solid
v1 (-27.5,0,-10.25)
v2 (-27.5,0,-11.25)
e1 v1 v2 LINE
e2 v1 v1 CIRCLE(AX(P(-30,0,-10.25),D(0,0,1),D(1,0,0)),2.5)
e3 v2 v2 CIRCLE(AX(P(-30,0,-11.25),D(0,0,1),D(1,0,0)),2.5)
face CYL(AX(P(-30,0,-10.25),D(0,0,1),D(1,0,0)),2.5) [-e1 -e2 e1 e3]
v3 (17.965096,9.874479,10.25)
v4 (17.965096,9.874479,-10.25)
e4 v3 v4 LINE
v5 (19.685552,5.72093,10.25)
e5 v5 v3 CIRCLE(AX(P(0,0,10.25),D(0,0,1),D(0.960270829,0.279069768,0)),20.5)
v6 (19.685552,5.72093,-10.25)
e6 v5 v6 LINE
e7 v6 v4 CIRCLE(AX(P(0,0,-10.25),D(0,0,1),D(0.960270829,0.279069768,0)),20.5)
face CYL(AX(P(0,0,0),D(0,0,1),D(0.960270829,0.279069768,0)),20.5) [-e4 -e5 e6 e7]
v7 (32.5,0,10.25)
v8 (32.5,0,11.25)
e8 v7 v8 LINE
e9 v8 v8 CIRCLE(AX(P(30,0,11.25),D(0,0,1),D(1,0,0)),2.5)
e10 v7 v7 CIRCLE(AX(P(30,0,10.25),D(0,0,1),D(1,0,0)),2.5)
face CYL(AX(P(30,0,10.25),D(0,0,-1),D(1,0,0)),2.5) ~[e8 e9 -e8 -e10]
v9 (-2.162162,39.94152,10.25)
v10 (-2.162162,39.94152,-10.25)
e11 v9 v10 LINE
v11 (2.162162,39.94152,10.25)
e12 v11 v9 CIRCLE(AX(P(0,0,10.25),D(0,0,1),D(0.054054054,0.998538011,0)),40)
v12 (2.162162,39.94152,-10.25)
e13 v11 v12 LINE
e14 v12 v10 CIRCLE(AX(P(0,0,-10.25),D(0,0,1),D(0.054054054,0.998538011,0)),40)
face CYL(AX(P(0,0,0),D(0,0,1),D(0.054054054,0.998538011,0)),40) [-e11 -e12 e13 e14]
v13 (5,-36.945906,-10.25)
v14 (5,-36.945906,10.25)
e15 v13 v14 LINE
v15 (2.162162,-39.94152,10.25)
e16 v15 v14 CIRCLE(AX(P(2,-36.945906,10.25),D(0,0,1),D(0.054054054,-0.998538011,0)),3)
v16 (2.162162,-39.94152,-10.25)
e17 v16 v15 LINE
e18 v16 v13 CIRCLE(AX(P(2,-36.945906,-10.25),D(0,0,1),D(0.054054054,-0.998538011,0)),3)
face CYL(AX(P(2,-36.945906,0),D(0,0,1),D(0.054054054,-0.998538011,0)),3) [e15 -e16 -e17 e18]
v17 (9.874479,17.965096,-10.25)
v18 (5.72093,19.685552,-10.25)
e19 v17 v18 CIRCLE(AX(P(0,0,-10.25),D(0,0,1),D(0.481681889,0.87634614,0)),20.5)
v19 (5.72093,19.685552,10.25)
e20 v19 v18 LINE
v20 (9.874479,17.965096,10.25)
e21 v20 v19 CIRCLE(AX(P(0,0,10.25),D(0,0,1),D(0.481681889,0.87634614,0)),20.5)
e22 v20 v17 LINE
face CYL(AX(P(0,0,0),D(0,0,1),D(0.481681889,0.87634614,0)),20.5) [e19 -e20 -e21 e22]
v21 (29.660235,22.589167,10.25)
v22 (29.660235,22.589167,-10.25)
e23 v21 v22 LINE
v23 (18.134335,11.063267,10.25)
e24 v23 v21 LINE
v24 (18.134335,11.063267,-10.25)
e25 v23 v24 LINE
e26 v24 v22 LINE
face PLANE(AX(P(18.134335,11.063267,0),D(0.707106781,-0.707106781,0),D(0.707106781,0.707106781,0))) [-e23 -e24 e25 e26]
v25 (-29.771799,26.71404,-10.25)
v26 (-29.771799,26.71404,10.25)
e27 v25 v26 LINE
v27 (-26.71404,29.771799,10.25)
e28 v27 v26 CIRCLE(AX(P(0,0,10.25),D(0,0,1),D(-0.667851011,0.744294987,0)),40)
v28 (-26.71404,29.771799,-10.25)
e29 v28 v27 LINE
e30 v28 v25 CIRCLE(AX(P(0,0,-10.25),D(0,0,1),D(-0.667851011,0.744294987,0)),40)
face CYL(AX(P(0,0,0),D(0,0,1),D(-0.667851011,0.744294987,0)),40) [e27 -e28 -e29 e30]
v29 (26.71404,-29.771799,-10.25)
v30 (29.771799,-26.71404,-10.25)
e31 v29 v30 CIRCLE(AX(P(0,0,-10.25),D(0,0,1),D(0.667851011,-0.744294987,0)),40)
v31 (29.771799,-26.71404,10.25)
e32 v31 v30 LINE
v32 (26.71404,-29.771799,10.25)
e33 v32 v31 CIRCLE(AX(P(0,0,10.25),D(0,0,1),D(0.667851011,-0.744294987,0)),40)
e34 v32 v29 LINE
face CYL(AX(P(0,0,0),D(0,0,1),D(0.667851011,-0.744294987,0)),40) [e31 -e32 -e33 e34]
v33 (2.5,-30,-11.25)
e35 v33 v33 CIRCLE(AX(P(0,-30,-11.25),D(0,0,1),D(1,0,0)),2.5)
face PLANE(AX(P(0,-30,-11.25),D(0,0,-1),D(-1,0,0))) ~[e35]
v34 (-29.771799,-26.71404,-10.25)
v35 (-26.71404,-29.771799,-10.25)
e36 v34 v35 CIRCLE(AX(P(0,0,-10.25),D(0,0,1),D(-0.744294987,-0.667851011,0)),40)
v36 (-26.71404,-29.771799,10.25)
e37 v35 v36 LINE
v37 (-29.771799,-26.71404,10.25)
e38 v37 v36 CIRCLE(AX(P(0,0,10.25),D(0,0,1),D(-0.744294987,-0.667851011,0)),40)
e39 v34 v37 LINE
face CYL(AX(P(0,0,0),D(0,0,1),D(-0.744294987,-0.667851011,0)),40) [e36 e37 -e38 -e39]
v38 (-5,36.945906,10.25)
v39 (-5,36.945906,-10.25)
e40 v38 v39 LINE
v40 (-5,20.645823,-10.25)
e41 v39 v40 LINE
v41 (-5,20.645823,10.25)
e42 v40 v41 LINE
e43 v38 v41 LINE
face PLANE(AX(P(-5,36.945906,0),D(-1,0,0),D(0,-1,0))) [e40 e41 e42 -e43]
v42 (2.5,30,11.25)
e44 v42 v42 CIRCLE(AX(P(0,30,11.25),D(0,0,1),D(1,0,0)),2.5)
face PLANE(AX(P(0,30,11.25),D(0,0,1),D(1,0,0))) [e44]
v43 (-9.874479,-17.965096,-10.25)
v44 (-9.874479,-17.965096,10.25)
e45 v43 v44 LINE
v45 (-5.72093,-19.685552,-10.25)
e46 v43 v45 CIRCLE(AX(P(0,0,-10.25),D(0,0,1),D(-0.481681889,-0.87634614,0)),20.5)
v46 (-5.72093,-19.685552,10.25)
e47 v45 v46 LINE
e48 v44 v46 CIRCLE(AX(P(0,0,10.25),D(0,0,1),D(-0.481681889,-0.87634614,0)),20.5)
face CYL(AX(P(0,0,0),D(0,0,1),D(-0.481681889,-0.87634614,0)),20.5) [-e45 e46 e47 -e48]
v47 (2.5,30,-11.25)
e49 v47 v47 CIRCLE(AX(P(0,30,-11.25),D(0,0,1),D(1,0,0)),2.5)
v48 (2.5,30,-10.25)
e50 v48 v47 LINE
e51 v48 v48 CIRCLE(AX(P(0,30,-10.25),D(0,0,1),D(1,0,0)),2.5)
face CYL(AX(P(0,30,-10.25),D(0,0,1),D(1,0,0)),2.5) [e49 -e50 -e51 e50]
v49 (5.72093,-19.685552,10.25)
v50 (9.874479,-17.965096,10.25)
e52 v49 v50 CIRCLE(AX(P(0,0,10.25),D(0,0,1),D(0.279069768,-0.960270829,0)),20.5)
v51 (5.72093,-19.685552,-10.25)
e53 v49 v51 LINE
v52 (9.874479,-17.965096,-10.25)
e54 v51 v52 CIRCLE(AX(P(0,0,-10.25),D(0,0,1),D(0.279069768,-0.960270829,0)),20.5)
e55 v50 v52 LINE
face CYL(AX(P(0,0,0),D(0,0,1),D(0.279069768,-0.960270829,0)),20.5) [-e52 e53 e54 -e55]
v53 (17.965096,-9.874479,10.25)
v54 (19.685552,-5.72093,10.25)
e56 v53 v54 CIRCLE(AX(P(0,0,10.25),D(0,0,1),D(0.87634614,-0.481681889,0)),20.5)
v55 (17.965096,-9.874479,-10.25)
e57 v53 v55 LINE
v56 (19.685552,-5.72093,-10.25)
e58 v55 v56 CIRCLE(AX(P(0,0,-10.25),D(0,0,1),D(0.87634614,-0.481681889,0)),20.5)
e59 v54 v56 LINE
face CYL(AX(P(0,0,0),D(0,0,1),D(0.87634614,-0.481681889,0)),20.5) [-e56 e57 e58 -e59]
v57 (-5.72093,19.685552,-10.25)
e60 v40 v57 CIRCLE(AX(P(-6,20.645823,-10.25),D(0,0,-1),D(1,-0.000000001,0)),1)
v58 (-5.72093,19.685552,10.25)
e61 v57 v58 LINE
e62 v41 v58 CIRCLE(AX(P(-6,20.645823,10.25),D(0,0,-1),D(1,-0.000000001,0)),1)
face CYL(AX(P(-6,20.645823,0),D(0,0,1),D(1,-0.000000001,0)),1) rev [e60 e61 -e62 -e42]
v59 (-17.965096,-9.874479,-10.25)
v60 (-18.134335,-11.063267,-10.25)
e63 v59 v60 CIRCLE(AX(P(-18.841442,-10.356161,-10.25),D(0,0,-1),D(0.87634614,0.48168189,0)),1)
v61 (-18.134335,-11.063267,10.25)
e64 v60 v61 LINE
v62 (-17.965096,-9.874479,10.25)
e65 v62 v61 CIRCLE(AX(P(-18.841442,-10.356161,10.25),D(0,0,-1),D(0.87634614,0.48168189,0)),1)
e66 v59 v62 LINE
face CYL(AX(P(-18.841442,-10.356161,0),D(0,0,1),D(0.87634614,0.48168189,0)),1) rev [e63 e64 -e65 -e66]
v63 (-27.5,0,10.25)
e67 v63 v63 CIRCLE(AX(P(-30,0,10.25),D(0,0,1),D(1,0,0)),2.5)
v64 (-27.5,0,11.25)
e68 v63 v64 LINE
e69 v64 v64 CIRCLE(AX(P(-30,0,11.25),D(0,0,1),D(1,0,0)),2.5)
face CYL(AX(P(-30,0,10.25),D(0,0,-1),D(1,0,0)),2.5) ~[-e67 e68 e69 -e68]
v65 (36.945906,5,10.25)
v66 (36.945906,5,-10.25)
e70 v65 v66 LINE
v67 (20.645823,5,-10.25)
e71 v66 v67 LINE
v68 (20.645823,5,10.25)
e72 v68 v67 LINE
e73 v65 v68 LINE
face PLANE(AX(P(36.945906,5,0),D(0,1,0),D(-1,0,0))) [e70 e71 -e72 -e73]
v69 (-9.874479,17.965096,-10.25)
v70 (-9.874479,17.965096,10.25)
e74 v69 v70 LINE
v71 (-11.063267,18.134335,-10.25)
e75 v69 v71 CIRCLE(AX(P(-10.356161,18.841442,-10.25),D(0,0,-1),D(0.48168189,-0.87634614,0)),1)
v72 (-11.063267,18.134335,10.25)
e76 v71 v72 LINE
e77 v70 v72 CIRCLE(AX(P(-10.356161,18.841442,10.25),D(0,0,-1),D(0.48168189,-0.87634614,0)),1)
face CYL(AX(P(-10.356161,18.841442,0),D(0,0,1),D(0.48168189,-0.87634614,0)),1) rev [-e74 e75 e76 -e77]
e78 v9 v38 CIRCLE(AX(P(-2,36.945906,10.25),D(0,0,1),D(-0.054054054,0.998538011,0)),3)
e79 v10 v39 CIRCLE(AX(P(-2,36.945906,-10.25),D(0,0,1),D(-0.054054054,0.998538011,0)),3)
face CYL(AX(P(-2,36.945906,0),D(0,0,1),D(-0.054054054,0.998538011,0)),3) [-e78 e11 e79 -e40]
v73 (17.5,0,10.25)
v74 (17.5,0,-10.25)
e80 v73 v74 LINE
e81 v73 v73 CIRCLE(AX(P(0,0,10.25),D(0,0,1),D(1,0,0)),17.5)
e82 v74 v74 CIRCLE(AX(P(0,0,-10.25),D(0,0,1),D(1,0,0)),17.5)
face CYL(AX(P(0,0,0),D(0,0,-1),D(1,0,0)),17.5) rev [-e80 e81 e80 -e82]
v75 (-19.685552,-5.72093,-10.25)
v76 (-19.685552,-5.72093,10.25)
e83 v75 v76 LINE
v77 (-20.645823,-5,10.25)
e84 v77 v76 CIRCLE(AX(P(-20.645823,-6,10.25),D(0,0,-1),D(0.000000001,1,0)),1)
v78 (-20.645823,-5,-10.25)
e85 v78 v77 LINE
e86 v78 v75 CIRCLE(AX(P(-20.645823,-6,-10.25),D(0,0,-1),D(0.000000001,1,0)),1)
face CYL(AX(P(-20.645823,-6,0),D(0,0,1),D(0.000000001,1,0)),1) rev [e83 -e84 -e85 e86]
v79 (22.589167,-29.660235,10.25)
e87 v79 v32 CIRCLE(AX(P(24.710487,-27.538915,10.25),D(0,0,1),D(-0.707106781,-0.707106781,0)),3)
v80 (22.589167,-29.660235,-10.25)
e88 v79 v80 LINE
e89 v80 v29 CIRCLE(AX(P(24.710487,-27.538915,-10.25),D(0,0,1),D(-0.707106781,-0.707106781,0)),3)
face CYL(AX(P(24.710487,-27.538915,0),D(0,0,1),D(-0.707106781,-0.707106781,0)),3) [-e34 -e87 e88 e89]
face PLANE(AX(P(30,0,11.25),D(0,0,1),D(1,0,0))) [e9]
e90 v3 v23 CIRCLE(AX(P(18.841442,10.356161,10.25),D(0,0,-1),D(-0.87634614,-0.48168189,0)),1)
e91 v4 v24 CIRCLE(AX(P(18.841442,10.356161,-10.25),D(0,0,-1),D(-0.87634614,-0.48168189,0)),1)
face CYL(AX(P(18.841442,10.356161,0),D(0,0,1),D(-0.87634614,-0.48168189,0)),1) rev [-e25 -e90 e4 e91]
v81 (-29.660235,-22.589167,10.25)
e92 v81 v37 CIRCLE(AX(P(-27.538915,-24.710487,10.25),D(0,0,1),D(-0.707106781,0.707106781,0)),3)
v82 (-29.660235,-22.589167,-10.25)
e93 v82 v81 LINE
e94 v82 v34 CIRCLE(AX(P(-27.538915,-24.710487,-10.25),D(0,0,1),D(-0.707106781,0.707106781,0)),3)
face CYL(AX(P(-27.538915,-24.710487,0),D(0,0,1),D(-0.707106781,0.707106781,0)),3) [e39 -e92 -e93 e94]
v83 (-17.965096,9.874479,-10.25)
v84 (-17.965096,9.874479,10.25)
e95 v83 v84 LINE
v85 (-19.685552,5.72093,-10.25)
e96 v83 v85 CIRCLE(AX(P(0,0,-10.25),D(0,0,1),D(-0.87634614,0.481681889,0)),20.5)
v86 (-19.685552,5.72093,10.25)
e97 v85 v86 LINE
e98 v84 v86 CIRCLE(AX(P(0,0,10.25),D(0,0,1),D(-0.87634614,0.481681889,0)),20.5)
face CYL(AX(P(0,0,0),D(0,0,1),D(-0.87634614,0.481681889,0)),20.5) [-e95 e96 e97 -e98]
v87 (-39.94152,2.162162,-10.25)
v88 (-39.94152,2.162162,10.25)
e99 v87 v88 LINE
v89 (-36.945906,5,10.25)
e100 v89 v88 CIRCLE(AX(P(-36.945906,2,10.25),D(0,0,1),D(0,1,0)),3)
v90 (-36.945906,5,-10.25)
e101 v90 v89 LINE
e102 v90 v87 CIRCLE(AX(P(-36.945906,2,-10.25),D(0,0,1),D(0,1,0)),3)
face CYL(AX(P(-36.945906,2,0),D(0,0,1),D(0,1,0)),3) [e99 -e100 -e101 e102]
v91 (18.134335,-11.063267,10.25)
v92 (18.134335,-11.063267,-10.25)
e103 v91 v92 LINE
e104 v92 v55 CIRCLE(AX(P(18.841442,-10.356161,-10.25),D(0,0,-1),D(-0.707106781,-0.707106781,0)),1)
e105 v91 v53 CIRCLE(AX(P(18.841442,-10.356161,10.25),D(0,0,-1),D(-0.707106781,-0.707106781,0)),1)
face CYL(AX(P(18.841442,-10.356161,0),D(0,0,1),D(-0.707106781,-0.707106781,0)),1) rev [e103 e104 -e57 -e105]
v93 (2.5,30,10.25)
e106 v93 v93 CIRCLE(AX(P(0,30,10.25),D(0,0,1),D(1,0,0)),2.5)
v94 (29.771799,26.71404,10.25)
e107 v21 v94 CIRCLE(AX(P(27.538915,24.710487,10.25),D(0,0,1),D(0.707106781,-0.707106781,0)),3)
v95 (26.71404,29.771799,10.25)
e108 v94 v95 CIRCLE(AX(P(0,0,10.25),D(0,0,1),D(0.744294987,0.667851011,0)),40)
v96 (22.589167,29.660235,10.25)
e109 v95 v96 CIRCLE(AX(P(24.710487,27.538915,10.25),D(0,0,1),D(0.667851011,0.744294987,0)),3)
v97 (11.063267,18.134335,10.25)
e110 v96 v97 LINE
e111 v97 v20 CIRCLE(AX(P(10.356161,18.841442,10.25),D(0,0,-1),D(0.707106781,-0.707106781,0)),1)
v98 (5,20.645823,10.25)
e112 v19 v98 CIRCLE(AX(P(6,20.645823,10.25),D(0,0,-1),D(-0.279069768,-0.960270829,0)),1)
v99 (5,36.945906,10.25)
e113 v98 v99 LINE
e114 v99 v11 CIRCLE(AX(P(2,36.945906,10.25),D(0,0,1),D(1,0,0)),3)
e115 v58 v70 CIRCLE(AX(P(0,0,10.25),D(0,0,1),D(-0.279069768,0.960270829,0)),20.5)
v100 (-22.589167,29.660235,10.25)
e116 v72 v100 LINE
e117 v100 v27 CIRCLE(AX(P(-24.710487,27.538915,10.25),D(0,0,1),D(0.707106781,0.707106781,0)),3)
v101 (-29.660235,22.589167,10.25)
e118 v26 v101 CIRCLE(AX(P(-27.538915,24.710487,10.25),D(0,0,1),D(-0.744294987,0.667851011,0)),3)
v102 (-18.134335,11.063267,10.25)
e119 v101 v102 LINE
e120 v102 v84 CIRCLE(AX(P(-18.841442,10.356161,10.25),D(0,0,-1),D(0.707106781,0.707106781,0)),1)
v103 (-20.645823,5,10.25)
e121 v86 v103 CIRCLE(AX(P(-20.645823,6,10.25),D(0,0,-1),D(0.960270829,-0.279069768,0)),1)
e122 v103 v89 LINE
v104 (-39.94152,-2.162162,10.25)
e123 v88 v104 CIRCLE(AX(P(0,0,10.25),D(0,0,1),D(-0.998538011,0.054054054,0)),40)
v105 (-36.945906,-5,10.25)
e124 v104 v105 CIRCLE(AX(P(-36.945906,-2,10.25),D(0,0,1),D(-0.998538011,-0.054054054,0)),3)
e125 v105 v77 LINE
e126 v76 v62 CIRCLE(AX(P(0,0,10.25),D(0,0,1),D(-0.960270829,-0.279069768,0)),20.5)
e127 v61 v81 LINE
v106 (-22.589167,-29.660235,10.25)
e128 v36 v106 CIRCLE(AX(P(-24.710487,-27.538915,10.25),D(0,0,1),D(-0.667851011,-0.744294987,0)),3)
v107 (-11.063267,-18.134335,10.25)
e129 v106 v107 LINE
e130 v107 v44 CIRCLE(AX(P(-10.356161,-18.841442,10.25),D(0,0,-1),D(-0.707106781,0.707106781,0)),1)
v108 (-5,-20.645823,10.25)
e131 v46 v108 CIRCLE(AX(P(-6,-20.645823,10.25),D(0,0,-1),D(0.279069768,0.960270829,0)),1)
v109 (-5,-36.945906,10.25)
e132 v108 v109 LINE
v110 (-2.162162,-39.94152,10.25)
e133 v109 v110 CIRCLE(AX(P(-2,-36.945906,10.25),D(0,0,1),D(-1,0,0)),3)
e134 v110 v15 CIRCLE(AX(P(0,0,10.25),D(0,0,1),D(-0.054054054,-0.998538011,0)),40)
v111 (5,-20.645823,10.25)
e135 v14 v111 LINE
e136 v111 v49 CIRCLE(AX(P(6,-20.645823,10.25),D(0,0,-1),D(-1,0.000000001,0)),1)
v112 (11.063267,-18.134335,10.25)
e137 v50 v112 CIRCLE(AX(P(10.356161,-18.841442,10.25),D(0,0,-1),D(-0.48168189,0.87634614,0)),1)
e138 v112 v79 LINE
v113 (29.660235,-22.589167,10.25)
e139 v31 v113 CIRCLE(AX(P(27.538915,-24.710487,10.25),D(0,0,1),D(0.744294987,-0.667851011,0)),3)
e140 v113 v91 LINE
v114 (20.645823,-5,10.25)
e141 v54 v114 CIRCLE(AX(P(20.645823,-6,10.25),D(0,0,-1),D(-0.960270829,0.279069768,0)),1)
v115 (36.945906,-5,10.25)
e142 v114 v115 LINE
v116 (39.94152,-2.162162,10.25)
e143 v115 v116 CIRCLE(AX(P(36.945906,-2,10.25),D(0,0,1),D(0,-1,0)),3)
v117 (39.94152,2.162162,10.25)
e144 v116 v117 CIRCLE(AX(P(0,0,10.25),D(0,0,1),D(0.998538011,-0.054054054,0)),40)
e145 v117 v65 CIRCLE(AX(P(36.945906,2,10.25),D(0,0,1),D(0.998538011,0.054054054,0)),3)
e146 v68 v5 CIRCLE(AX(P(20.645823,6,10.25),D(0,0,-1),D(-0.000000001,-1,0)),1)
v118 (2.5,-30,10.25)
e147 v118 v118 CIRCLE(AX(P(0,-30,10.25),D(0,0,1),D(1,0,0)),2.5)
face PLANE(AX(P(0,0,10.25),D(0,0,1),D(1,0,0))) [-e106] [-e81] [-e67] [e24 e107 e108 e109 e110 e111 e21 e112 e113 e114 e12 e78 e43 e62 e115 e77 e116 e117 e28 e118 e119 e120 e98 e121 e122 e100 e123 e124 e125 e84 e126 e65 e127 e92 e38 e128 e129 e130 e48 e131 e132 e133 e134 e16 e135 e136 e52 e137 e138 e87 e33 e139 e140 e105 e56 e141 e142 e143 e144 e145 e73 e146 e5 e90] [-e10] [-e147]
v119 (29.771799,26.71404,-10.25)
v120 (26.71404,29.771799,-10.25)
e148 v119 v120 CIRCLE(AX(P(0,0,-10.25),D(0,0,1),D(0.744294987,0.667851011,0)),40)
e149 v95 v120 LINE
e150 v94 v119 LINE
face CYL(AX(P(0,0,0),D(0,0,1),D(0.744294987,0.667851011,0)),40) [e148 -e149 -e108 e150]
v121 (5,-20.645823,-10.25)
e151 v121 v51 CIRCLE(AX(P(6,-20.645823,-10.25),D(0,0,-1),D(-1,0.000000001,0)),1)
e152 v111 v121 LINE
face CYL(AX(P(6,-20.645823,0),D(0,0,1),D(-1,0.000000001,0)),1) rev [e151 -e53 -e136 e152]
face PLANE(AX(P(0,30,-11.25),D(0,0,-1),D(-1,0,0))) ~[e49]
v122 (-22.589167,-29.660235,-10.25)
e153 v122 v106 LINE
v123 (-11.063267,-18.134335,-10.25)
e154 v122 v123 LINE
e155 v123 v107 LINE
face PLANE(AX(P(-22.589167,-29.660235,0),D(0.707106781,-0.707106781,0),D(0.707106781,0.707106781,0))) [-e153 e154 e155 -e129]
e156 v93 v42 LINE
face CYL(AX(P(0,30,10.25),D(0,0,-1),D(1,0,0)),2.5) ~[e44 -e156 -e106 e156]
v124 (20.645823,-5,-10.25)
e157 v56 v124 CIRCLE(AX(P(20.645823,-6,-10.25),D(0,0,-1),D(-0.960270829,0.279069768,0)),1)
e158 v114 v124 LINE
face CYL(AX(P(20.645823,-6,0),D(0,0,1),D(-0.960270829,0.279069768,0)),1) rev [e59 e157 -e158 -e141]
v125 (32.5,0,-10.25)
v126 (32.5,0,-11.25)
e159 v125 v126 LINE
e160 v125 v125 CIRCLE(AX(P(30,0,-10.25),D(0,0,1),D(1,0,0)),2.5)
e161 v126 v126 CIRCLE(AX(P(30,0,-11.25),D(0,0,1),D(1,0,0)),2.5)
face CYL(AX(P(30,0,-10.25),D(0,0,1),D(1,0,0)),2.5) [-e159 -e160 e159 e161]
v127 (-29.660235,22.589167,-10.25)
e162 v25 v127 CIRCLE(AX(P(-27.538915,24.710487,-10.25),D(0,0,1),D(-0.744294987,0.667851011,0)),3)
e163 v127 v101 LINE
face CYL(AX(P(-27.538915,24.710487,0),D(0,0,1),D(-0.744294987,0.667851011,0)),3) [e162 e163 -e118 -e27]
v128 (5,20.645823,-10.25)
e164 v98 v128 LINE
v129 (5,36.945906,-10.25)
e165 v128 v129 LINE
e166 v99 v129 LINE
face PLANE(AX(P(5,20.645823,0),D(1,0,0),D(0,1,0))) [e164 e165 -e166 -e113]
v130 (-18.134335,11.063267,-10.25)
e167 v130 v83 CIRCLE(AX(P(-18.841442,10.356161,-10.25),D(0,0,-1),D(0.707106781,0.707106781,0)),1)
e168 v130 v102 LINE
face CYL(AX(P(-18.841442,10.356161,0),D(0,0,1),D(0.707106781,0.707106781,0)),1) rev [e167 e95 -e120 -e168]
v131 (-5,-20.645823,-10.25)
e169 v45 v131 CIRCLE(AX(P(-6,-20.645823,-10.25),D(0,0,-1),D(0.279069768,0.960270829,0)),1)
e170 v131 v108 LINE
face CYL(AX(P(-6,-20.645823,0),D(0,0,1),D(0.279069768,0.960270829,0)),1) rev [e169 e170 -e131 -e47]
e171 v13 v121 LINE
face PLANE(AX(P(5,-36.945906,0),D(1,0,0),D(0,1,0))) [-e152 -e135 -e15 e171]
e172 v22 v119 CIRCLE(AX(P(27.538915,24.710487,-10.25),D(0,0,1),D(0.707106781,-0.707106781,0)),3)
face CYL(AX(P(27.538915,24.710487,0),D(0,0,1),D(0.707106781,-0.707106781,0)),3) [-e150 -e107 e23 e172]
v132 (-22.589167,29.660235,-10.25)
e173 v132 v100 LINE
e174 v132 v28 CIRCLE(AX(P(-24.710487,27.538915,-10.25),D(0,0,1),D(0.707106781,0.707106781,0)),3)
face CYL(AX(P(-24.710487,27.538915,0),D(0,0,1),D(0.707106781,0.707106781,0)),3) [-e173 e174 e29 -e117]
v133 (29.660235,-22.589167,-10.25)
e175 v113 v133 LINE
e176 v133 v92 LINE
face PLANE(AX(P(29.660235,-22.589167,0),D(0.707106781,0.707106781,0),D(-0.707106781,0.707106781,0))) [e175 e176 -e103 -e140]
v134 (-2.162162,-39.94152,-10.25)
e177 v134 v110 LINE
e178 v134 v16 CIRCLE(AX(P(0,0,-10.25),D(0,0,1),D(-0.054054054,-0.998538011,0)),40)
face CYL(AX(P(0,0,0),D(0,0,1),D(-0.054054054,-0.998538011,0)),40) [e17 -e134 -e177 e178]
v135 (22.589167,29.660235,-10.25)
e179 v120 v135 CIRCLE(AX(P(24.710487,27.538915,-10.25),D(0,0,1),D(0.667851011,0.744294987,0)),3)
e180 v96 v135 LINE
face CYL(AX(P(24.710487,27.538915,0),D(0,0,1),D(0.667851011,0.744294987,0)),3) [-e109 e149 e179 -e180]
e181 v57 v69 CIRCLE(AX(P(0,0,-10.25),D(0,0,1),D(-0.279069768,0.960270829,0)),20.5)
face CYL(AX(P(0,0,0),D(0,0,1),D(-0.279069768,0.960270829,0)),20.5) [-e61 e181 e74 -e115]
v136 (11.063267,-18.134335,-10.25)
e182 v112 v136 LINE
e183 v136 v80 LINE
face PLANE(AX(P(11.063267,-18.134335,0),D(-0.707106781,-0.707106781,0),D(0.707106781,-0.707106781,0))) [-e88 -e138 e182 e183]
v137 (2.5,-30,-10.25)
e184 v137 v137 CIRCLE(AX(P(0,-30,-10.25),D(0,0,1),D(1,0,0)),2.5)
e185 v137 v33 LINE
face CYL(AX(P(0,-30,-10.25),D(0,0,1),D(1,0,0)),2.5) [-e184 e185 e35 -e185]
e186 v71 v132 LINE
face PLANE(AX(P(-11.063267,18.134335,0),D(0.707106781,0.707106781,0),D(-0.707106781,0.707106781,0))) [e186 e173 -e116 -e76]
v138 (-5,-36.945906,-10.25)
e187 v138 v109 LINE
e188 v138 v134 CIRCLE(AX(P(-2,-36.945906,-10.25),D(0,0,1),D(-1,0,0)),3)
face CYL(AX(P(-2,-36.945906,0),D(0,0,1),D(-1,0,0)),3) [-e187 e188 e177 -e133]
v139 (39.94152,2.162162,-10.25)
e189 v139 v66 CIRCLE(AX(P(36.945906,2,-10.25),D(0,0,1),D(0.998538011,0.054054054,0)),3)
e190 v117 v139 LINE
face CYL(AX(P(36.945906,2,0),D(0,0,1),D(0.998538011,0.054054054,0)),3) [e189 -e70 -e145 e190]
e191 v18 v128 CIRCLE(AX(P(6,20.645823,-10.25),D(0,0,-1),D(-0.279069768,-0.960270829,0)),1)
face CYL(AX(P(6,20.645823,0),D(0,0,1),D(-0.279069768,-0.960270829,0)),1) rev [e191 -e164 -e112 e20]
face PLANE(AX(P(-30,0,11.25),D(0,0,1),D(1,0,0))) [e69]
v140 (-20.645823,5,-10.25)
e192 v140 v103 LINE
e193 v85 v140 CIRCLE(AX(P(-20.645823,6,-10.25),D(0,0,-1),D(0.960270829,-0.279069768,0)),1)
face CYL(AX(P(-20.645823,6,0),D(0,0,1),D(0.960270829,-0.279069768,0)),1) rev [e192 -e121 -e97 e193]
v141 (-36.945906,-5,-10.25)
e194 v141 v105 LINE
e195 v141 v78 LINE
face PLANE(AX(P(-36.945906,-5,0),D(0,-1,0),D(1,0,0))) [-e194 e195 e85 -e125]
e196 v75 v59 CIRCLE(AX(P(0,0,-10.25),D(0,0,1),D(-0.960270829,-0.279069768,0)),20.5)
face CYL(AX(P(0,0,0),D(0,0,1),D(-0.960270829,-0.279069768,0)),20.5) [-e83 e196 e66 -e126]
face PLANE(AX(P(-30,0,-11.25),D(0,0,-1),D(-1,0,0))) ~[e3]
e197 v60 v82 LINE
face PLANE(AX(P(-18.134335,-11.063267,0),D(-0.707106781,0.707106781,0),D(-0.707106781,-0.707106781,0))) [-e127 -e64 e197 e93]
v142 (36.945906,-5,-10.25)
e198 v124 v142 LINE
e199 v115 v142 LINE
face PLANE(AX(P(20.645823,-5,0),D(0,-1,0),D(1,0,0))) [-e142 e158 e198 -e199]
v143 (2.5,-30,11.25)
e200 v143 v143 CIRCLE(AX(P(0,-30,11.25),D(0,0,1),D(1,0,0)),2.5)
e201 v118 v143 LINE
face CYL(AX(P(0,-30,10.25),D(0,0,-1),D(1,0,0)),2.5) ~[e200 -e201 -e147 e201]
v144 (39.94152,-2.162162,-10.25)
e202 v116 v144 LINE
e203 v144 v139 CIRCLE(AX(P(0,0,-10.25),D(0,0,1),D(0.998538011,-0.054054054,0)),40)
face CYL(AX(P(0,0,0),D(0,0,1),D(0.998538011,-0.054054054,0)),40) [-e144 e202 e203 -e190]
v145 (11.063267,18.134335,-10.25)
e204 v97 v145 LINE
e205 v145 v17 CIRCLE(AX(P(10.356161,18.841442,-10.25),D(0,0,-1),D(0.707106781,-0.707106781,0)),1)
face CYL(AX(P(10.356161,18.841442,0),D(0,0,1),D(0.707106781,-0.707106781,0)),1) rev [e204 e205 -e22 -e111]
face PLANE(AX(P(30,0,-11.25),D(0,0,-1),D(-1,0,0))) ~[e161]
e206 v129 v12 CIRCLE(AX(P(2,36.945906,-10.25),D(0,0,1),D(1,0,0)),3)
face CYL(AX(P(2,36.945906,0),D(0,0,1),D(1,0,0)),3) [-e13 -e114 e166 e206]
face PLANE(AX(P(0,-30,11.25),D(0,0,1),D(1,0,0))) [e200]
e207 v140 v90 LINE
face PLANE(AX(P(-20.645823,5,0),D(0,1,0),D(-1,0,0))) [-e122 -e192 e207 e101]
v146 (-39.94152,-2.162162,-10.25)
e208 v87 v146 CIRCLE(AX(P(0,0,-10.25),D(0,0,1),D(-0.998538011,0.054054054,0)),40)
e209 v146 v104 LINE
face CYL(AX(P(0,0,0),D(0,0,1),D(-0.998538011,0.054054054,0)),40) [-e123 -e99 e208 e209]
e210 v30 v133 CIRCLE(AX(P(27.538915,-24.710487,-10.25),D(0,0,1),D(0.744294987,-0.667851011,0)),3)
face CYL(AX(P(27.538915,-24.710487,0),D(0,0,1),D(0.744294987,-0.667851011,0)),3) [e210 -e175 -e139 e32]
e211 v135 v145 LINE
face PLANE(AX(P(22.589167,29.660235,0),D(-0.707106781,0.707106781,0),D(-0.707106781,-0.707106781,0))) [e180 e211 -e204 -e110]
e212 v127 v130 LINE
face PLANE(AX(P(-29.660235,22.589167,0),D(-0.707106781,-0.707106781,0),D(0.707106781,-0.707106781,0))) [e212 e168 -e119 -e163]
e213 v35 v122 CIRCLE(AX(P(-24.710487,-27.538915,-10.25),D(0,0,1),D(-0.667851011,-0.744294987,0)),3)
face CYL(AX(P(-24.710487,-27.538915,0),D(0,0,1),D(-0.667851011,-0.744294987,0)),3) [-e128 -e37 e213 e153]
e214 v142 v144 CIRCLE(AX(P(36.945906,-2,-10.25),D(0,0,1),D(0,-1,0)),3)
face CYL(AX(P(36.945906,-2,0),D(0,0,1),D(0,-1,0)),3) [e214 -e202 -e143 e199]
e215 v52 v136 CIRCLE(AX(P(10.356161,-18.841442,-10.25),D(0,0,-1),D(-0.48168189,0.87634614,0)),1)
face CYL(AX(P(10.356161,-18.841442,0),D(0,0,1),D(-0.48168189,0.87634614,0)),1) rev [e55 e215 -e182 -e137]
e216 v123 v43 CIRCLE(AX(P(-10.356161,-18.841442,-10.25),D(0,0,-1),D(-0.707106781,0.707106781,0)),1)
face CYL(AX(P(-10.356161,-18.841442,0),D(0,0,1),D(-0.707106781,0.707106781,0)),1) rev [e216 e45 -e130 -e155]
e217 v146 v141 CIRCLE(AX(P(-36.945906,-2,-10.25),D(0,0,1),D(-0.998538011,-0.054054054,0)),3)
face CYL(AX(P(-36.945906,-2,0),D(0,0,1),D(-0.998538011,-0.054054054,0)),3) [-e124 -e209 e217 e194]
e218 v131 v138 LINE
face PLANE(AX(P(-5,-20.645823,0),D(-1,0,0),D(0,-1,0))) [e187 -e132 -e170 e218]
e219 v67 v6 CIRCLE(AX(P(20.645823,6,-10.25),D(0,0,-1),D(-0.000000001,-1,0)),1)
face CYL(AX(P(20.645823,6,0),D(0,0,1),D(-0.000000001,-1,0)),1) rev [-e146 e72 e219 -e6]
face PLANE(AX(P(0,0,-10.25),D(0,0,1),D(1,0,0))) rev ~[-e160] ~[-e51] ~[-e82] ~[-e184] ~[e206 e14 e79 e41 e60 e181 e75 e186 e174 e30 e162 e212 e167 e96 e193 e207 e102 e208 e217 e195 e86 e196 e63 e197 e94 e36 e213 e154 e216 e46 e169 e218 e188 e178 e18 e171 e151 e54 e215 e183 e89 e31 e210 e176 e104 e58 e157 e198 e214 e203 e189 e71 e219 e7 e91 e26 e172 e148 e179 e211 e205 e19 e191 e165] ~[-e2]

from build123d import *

# Parameters (mm, degrees)
SKETCH1_R           = 17.5
BOSS_EXTRUDE1_DEPTH = 10.25
SKETCH2_R           = 2.5
BOSS_EXTRUDE2_DEPTH = 1


with BuildPart() as part:
    # Sketch1 → Boss-Extrude1 (new body, symmetric)
    with BuildSketch(Plane.XY):
        with BuildLine():
            Line((-5, 36.945906404), (-5, 20.645822822))
            ThreePointArc((-5, 20.645822822), (-5.200290751, 20.04543535), (-5.720930233, 19.685551993))
            ThreePointArc((-5.720930233, 19.685551993), (-7.845010363, 18.939530416), (-9.874478744, 17.965095868))
            ThreePointArc((-9.874478744, 17.965095868), (-10.497102414, 17.851424122), (-11.063267415, 18.134335227))
            Line((-11.063267415, 18.134335227), (-22.589167049, 29.660234861))
            ThreePointArc((-22.589167049, 29.660234861), (-24.629376661, 30.537817825), (-26.714040425, 29.771799478))
            ThreePointArc((-26.714040425, 29.771799478), (-28.284271247, 28.284271247), (-29.771799478, 26.714040425))
            ThreePointArc((-29.771799478, 26.714040425), (-30.537817825, 24.629376661), (-29.660234861, 22.589167049))
            Line((-29.660234861, 22.589167049), (-18.134335227, 11.063267415))
            ThreePointArc((-18.134335227, 11.063267415), (-17.851424122, 10.497102414), (-17.965095868, 9.874478744))
            ThreePointArc((-17.965095868, 9.874478744), (-18.939530416, 7.845010363), (-19.685551993, 5.720930233))
            ThreePointArc((-19.685551993, 5.720930233), (-20.04543535, 5.200290751), (-20.645822822, 5))
            Line((-20.645822822, 5), (-36.945906404, 5))
            ThreePointArc((-36.945906404, 5), (-39.00909732, 4.177898814), (-39.941520437, 2.162162162))
            ThreePointArc((-39.941520437, 2.162162162), (-40, 0), (-39.941520437, -2.162162162))
            ThreePointArc((-39.941520437, -2.162162162), (-39.00909732, -4.177898814), (-36.945906404, -5))
            Line((-36.945906404, -5), (-20.645822822, -5))
            ThreePointArc((-20.645822822, -5), (-20.04543535, -5.200290751), (-19.685551993, -5.720930233))
            ThreePointArc((-19.685551993, -5.720930233), (-18.939530416, -7.845010363), (-17.965095868, -9.874478744))
            ThreePointArc((-17.965095868, -9.874478744), (-17.851424122, -10.497102414), (-18.134335227, -11.063267415))
            Line((-18.134335227, -11.063267415), (-29.660234861, -22.589167049))
            ThreePointArc((-29.660234861, -22.589167049), (-30.537817825, -24.629376661), (-29.771799478, -26.714040425))
            ThreePointArc((-29.771799478, -26.714040425), (-28.284271247, -28.284271247), (-26.714040425, -29.771799478))
            ThreePointArc((-26.714040425, -29.771799478), (-24.629376661, -30.537817825), (-22.589167049, -29.660234861))
            Line((-22.589167049, -29.660234861), (-11.063267415, -18.134335227))
            ThreePointArc((-11.063267415, -18.134335227), (-10.497102414, -17.851424122), (-9.874478744, -17.965095868))
            ThreePointArc((-9.874478744, -17.965095868), (-7.845010363, -18.939530416), (-5.720930233, -19.685551993))
            ThreePointArc((-5.720930233, -19.685551993), (-5.200290751, -20.04543535), (-5, -20.645822822))
            Line((-5, -20.645822822), (-5, -36.945906404))
            ThreePointArc((-5, -36.945906404), (-4.177898814, -39.00909732), (-2.162162162, -39.941520437))
            ThreePointArc((-2.162162162, -39.941520437), (0, -40), (2.162162162, -39.941520437))
            ThreePointArc((2.162162162, -39.941520437), (4.177898814, -39.00909732), (5, -36.945906404))
            Line((5, -36.945906404), (5, -20.645822822))
            ThreePointArc((5, -20.645822822), (5.200290751, -20.04543535), (5.720930233, -19.685551993))
            ThreePointArc((5.720930233, -19.685551993), (7.845010363, -18.939530416), (9.874478744, -17.965095868))
            ThreePointArc((9.874478744, -17.965095868), (10.497102414, -17.851424122), (11.063267415, -18.134335227))
            Line((11.063267415, -18.134335227), (22.589167049, -29.660234861))
            ThreePointArc((22.589167049, -29.660234861), (24.629376661, -30.537817825), (26.714040425, -29.771799478))
            ThreePointArc((26.714040425, -29.771799478), (28.284271247, -28.284271247), (29.771799478, -26.714040425))
            ThreePointArc((29.771799478, -26.714040425), (30.537817825, -24.629376661), (29.660234861, -22.589167049))
            Line((29.660234861, -22.589167049), (18.134335227, -11.063267415))
            ThreePointArc((18.134335227, -11.063267415), (17.851424122, -10.497102414), (17.965095868, -9.874478744))
            ThreePointArc((17.965095868, -9.874478744), (18.939530416, -7.845010363), (19.685551993, -5.720930233))
            ThreePointArc((19.685551993, -5.720930233), (20.04543535, -5.200290751), (20.645822822, -5))
            Line((20.645822822, -5), (36.945906404, -5))
            ThreePointArc((36.945906404, -5), (39.00909732, -4.177898814), (39.941520437, -2.162162162))
            ThreePointArc((39.941520437, -2.162162162), (40, 0), (39.941520437, 2.162162162))
            ThreePointArc((39.941520437, 2.162162162), (39.00909732, 4.177898814), (36.945906404, 5))
            Line((36.945906404, 5), (20.645822822, 5))
            ThreePointArc((20.645822822, 5), (20.04543535, 5.200290751), (19.685551993, 5.720930233))
            ThreePointArc((19.685551993, 5.720930233), (18.939530416, 7.845010363), (17.965095868, 9.874478744))
            ThreePointArc((17.965095868, 9.874478744), (17.851424122, 10.497102414), (18.134335227, 11.063267415))
            Line((18.134335227, 11.063267415), (29.660234861, 22.589167049))
            ThreePointArc((29.660234861, 22.589167049), (30.537817825, 24.629376661), (29.771799478, 26.714040425))
            ThreePointArc((29.771799478, 26.714040425), (28.284271247, 28.284271247), (26.714040425, 29.771799478))
            ThreePointArc((26.714040425, 29.771799478), (24.629376661, 30.537817825), (22.589167049, 29.660234861))
            Line((22.589167049, 29.660234861), (11.063267415, 18.134335227))
            ThreePointArc((11.063267415, 18.134335227), (10.497102414, 17.851424122), (9.874478744, 17.965095868))
            ThreePointArc((9.874478744, 17.965095868), (7.845010363, 18.939530416), (5.720930233, 19.685551993))
            ThreePointArc((5.720930233, 19.685551993), (5.200290751, 20.04543535), (5, 20.645822822))
            Line((5, 20.645822822), (5, 36.945906404))
            ThreePointArc((5, 36.945906404), (4.177898814, 39.00909732), (2.162162162, 39.941520437))
            ThreePointArc((2.162162162, 39.941520437), (0, 40), (-2.162162162, 39.941520437))
            ThreePointArc((-2.162162162, 39.941520437), (-4.177898814, 39.00909732), (-5, 36.945906404))
        make_face()
        Circle(SKETCH1_R, mode=Mode.SUBTRACT)
    extrude(amount=BOSS_EXTRUDE1_DEPTH, both=True)

    # Sketch2 → Boss-Extrude2 (add)
    with BuildSketch(Plane.XY.offset(10.25)):
        with Locations((0, 30)):
            Circle(SKETCH2_R)
        with Locations((30, 0)):
            Circle(SKETCH2_R)
        with Locations((0, -30)):
            Circle(SKETCH2_R)
        with Locations((-30, 0)):
            Circle(SKETCH2_R)
    boss_extrude2 = extrude(amount=BOSS_EXTRUDE2_DEPTH)

    # Mirror1: Boss-Extrude2 across plane
    add(boss_extrude2.mirror(Plane.XY))


solid = part.part
